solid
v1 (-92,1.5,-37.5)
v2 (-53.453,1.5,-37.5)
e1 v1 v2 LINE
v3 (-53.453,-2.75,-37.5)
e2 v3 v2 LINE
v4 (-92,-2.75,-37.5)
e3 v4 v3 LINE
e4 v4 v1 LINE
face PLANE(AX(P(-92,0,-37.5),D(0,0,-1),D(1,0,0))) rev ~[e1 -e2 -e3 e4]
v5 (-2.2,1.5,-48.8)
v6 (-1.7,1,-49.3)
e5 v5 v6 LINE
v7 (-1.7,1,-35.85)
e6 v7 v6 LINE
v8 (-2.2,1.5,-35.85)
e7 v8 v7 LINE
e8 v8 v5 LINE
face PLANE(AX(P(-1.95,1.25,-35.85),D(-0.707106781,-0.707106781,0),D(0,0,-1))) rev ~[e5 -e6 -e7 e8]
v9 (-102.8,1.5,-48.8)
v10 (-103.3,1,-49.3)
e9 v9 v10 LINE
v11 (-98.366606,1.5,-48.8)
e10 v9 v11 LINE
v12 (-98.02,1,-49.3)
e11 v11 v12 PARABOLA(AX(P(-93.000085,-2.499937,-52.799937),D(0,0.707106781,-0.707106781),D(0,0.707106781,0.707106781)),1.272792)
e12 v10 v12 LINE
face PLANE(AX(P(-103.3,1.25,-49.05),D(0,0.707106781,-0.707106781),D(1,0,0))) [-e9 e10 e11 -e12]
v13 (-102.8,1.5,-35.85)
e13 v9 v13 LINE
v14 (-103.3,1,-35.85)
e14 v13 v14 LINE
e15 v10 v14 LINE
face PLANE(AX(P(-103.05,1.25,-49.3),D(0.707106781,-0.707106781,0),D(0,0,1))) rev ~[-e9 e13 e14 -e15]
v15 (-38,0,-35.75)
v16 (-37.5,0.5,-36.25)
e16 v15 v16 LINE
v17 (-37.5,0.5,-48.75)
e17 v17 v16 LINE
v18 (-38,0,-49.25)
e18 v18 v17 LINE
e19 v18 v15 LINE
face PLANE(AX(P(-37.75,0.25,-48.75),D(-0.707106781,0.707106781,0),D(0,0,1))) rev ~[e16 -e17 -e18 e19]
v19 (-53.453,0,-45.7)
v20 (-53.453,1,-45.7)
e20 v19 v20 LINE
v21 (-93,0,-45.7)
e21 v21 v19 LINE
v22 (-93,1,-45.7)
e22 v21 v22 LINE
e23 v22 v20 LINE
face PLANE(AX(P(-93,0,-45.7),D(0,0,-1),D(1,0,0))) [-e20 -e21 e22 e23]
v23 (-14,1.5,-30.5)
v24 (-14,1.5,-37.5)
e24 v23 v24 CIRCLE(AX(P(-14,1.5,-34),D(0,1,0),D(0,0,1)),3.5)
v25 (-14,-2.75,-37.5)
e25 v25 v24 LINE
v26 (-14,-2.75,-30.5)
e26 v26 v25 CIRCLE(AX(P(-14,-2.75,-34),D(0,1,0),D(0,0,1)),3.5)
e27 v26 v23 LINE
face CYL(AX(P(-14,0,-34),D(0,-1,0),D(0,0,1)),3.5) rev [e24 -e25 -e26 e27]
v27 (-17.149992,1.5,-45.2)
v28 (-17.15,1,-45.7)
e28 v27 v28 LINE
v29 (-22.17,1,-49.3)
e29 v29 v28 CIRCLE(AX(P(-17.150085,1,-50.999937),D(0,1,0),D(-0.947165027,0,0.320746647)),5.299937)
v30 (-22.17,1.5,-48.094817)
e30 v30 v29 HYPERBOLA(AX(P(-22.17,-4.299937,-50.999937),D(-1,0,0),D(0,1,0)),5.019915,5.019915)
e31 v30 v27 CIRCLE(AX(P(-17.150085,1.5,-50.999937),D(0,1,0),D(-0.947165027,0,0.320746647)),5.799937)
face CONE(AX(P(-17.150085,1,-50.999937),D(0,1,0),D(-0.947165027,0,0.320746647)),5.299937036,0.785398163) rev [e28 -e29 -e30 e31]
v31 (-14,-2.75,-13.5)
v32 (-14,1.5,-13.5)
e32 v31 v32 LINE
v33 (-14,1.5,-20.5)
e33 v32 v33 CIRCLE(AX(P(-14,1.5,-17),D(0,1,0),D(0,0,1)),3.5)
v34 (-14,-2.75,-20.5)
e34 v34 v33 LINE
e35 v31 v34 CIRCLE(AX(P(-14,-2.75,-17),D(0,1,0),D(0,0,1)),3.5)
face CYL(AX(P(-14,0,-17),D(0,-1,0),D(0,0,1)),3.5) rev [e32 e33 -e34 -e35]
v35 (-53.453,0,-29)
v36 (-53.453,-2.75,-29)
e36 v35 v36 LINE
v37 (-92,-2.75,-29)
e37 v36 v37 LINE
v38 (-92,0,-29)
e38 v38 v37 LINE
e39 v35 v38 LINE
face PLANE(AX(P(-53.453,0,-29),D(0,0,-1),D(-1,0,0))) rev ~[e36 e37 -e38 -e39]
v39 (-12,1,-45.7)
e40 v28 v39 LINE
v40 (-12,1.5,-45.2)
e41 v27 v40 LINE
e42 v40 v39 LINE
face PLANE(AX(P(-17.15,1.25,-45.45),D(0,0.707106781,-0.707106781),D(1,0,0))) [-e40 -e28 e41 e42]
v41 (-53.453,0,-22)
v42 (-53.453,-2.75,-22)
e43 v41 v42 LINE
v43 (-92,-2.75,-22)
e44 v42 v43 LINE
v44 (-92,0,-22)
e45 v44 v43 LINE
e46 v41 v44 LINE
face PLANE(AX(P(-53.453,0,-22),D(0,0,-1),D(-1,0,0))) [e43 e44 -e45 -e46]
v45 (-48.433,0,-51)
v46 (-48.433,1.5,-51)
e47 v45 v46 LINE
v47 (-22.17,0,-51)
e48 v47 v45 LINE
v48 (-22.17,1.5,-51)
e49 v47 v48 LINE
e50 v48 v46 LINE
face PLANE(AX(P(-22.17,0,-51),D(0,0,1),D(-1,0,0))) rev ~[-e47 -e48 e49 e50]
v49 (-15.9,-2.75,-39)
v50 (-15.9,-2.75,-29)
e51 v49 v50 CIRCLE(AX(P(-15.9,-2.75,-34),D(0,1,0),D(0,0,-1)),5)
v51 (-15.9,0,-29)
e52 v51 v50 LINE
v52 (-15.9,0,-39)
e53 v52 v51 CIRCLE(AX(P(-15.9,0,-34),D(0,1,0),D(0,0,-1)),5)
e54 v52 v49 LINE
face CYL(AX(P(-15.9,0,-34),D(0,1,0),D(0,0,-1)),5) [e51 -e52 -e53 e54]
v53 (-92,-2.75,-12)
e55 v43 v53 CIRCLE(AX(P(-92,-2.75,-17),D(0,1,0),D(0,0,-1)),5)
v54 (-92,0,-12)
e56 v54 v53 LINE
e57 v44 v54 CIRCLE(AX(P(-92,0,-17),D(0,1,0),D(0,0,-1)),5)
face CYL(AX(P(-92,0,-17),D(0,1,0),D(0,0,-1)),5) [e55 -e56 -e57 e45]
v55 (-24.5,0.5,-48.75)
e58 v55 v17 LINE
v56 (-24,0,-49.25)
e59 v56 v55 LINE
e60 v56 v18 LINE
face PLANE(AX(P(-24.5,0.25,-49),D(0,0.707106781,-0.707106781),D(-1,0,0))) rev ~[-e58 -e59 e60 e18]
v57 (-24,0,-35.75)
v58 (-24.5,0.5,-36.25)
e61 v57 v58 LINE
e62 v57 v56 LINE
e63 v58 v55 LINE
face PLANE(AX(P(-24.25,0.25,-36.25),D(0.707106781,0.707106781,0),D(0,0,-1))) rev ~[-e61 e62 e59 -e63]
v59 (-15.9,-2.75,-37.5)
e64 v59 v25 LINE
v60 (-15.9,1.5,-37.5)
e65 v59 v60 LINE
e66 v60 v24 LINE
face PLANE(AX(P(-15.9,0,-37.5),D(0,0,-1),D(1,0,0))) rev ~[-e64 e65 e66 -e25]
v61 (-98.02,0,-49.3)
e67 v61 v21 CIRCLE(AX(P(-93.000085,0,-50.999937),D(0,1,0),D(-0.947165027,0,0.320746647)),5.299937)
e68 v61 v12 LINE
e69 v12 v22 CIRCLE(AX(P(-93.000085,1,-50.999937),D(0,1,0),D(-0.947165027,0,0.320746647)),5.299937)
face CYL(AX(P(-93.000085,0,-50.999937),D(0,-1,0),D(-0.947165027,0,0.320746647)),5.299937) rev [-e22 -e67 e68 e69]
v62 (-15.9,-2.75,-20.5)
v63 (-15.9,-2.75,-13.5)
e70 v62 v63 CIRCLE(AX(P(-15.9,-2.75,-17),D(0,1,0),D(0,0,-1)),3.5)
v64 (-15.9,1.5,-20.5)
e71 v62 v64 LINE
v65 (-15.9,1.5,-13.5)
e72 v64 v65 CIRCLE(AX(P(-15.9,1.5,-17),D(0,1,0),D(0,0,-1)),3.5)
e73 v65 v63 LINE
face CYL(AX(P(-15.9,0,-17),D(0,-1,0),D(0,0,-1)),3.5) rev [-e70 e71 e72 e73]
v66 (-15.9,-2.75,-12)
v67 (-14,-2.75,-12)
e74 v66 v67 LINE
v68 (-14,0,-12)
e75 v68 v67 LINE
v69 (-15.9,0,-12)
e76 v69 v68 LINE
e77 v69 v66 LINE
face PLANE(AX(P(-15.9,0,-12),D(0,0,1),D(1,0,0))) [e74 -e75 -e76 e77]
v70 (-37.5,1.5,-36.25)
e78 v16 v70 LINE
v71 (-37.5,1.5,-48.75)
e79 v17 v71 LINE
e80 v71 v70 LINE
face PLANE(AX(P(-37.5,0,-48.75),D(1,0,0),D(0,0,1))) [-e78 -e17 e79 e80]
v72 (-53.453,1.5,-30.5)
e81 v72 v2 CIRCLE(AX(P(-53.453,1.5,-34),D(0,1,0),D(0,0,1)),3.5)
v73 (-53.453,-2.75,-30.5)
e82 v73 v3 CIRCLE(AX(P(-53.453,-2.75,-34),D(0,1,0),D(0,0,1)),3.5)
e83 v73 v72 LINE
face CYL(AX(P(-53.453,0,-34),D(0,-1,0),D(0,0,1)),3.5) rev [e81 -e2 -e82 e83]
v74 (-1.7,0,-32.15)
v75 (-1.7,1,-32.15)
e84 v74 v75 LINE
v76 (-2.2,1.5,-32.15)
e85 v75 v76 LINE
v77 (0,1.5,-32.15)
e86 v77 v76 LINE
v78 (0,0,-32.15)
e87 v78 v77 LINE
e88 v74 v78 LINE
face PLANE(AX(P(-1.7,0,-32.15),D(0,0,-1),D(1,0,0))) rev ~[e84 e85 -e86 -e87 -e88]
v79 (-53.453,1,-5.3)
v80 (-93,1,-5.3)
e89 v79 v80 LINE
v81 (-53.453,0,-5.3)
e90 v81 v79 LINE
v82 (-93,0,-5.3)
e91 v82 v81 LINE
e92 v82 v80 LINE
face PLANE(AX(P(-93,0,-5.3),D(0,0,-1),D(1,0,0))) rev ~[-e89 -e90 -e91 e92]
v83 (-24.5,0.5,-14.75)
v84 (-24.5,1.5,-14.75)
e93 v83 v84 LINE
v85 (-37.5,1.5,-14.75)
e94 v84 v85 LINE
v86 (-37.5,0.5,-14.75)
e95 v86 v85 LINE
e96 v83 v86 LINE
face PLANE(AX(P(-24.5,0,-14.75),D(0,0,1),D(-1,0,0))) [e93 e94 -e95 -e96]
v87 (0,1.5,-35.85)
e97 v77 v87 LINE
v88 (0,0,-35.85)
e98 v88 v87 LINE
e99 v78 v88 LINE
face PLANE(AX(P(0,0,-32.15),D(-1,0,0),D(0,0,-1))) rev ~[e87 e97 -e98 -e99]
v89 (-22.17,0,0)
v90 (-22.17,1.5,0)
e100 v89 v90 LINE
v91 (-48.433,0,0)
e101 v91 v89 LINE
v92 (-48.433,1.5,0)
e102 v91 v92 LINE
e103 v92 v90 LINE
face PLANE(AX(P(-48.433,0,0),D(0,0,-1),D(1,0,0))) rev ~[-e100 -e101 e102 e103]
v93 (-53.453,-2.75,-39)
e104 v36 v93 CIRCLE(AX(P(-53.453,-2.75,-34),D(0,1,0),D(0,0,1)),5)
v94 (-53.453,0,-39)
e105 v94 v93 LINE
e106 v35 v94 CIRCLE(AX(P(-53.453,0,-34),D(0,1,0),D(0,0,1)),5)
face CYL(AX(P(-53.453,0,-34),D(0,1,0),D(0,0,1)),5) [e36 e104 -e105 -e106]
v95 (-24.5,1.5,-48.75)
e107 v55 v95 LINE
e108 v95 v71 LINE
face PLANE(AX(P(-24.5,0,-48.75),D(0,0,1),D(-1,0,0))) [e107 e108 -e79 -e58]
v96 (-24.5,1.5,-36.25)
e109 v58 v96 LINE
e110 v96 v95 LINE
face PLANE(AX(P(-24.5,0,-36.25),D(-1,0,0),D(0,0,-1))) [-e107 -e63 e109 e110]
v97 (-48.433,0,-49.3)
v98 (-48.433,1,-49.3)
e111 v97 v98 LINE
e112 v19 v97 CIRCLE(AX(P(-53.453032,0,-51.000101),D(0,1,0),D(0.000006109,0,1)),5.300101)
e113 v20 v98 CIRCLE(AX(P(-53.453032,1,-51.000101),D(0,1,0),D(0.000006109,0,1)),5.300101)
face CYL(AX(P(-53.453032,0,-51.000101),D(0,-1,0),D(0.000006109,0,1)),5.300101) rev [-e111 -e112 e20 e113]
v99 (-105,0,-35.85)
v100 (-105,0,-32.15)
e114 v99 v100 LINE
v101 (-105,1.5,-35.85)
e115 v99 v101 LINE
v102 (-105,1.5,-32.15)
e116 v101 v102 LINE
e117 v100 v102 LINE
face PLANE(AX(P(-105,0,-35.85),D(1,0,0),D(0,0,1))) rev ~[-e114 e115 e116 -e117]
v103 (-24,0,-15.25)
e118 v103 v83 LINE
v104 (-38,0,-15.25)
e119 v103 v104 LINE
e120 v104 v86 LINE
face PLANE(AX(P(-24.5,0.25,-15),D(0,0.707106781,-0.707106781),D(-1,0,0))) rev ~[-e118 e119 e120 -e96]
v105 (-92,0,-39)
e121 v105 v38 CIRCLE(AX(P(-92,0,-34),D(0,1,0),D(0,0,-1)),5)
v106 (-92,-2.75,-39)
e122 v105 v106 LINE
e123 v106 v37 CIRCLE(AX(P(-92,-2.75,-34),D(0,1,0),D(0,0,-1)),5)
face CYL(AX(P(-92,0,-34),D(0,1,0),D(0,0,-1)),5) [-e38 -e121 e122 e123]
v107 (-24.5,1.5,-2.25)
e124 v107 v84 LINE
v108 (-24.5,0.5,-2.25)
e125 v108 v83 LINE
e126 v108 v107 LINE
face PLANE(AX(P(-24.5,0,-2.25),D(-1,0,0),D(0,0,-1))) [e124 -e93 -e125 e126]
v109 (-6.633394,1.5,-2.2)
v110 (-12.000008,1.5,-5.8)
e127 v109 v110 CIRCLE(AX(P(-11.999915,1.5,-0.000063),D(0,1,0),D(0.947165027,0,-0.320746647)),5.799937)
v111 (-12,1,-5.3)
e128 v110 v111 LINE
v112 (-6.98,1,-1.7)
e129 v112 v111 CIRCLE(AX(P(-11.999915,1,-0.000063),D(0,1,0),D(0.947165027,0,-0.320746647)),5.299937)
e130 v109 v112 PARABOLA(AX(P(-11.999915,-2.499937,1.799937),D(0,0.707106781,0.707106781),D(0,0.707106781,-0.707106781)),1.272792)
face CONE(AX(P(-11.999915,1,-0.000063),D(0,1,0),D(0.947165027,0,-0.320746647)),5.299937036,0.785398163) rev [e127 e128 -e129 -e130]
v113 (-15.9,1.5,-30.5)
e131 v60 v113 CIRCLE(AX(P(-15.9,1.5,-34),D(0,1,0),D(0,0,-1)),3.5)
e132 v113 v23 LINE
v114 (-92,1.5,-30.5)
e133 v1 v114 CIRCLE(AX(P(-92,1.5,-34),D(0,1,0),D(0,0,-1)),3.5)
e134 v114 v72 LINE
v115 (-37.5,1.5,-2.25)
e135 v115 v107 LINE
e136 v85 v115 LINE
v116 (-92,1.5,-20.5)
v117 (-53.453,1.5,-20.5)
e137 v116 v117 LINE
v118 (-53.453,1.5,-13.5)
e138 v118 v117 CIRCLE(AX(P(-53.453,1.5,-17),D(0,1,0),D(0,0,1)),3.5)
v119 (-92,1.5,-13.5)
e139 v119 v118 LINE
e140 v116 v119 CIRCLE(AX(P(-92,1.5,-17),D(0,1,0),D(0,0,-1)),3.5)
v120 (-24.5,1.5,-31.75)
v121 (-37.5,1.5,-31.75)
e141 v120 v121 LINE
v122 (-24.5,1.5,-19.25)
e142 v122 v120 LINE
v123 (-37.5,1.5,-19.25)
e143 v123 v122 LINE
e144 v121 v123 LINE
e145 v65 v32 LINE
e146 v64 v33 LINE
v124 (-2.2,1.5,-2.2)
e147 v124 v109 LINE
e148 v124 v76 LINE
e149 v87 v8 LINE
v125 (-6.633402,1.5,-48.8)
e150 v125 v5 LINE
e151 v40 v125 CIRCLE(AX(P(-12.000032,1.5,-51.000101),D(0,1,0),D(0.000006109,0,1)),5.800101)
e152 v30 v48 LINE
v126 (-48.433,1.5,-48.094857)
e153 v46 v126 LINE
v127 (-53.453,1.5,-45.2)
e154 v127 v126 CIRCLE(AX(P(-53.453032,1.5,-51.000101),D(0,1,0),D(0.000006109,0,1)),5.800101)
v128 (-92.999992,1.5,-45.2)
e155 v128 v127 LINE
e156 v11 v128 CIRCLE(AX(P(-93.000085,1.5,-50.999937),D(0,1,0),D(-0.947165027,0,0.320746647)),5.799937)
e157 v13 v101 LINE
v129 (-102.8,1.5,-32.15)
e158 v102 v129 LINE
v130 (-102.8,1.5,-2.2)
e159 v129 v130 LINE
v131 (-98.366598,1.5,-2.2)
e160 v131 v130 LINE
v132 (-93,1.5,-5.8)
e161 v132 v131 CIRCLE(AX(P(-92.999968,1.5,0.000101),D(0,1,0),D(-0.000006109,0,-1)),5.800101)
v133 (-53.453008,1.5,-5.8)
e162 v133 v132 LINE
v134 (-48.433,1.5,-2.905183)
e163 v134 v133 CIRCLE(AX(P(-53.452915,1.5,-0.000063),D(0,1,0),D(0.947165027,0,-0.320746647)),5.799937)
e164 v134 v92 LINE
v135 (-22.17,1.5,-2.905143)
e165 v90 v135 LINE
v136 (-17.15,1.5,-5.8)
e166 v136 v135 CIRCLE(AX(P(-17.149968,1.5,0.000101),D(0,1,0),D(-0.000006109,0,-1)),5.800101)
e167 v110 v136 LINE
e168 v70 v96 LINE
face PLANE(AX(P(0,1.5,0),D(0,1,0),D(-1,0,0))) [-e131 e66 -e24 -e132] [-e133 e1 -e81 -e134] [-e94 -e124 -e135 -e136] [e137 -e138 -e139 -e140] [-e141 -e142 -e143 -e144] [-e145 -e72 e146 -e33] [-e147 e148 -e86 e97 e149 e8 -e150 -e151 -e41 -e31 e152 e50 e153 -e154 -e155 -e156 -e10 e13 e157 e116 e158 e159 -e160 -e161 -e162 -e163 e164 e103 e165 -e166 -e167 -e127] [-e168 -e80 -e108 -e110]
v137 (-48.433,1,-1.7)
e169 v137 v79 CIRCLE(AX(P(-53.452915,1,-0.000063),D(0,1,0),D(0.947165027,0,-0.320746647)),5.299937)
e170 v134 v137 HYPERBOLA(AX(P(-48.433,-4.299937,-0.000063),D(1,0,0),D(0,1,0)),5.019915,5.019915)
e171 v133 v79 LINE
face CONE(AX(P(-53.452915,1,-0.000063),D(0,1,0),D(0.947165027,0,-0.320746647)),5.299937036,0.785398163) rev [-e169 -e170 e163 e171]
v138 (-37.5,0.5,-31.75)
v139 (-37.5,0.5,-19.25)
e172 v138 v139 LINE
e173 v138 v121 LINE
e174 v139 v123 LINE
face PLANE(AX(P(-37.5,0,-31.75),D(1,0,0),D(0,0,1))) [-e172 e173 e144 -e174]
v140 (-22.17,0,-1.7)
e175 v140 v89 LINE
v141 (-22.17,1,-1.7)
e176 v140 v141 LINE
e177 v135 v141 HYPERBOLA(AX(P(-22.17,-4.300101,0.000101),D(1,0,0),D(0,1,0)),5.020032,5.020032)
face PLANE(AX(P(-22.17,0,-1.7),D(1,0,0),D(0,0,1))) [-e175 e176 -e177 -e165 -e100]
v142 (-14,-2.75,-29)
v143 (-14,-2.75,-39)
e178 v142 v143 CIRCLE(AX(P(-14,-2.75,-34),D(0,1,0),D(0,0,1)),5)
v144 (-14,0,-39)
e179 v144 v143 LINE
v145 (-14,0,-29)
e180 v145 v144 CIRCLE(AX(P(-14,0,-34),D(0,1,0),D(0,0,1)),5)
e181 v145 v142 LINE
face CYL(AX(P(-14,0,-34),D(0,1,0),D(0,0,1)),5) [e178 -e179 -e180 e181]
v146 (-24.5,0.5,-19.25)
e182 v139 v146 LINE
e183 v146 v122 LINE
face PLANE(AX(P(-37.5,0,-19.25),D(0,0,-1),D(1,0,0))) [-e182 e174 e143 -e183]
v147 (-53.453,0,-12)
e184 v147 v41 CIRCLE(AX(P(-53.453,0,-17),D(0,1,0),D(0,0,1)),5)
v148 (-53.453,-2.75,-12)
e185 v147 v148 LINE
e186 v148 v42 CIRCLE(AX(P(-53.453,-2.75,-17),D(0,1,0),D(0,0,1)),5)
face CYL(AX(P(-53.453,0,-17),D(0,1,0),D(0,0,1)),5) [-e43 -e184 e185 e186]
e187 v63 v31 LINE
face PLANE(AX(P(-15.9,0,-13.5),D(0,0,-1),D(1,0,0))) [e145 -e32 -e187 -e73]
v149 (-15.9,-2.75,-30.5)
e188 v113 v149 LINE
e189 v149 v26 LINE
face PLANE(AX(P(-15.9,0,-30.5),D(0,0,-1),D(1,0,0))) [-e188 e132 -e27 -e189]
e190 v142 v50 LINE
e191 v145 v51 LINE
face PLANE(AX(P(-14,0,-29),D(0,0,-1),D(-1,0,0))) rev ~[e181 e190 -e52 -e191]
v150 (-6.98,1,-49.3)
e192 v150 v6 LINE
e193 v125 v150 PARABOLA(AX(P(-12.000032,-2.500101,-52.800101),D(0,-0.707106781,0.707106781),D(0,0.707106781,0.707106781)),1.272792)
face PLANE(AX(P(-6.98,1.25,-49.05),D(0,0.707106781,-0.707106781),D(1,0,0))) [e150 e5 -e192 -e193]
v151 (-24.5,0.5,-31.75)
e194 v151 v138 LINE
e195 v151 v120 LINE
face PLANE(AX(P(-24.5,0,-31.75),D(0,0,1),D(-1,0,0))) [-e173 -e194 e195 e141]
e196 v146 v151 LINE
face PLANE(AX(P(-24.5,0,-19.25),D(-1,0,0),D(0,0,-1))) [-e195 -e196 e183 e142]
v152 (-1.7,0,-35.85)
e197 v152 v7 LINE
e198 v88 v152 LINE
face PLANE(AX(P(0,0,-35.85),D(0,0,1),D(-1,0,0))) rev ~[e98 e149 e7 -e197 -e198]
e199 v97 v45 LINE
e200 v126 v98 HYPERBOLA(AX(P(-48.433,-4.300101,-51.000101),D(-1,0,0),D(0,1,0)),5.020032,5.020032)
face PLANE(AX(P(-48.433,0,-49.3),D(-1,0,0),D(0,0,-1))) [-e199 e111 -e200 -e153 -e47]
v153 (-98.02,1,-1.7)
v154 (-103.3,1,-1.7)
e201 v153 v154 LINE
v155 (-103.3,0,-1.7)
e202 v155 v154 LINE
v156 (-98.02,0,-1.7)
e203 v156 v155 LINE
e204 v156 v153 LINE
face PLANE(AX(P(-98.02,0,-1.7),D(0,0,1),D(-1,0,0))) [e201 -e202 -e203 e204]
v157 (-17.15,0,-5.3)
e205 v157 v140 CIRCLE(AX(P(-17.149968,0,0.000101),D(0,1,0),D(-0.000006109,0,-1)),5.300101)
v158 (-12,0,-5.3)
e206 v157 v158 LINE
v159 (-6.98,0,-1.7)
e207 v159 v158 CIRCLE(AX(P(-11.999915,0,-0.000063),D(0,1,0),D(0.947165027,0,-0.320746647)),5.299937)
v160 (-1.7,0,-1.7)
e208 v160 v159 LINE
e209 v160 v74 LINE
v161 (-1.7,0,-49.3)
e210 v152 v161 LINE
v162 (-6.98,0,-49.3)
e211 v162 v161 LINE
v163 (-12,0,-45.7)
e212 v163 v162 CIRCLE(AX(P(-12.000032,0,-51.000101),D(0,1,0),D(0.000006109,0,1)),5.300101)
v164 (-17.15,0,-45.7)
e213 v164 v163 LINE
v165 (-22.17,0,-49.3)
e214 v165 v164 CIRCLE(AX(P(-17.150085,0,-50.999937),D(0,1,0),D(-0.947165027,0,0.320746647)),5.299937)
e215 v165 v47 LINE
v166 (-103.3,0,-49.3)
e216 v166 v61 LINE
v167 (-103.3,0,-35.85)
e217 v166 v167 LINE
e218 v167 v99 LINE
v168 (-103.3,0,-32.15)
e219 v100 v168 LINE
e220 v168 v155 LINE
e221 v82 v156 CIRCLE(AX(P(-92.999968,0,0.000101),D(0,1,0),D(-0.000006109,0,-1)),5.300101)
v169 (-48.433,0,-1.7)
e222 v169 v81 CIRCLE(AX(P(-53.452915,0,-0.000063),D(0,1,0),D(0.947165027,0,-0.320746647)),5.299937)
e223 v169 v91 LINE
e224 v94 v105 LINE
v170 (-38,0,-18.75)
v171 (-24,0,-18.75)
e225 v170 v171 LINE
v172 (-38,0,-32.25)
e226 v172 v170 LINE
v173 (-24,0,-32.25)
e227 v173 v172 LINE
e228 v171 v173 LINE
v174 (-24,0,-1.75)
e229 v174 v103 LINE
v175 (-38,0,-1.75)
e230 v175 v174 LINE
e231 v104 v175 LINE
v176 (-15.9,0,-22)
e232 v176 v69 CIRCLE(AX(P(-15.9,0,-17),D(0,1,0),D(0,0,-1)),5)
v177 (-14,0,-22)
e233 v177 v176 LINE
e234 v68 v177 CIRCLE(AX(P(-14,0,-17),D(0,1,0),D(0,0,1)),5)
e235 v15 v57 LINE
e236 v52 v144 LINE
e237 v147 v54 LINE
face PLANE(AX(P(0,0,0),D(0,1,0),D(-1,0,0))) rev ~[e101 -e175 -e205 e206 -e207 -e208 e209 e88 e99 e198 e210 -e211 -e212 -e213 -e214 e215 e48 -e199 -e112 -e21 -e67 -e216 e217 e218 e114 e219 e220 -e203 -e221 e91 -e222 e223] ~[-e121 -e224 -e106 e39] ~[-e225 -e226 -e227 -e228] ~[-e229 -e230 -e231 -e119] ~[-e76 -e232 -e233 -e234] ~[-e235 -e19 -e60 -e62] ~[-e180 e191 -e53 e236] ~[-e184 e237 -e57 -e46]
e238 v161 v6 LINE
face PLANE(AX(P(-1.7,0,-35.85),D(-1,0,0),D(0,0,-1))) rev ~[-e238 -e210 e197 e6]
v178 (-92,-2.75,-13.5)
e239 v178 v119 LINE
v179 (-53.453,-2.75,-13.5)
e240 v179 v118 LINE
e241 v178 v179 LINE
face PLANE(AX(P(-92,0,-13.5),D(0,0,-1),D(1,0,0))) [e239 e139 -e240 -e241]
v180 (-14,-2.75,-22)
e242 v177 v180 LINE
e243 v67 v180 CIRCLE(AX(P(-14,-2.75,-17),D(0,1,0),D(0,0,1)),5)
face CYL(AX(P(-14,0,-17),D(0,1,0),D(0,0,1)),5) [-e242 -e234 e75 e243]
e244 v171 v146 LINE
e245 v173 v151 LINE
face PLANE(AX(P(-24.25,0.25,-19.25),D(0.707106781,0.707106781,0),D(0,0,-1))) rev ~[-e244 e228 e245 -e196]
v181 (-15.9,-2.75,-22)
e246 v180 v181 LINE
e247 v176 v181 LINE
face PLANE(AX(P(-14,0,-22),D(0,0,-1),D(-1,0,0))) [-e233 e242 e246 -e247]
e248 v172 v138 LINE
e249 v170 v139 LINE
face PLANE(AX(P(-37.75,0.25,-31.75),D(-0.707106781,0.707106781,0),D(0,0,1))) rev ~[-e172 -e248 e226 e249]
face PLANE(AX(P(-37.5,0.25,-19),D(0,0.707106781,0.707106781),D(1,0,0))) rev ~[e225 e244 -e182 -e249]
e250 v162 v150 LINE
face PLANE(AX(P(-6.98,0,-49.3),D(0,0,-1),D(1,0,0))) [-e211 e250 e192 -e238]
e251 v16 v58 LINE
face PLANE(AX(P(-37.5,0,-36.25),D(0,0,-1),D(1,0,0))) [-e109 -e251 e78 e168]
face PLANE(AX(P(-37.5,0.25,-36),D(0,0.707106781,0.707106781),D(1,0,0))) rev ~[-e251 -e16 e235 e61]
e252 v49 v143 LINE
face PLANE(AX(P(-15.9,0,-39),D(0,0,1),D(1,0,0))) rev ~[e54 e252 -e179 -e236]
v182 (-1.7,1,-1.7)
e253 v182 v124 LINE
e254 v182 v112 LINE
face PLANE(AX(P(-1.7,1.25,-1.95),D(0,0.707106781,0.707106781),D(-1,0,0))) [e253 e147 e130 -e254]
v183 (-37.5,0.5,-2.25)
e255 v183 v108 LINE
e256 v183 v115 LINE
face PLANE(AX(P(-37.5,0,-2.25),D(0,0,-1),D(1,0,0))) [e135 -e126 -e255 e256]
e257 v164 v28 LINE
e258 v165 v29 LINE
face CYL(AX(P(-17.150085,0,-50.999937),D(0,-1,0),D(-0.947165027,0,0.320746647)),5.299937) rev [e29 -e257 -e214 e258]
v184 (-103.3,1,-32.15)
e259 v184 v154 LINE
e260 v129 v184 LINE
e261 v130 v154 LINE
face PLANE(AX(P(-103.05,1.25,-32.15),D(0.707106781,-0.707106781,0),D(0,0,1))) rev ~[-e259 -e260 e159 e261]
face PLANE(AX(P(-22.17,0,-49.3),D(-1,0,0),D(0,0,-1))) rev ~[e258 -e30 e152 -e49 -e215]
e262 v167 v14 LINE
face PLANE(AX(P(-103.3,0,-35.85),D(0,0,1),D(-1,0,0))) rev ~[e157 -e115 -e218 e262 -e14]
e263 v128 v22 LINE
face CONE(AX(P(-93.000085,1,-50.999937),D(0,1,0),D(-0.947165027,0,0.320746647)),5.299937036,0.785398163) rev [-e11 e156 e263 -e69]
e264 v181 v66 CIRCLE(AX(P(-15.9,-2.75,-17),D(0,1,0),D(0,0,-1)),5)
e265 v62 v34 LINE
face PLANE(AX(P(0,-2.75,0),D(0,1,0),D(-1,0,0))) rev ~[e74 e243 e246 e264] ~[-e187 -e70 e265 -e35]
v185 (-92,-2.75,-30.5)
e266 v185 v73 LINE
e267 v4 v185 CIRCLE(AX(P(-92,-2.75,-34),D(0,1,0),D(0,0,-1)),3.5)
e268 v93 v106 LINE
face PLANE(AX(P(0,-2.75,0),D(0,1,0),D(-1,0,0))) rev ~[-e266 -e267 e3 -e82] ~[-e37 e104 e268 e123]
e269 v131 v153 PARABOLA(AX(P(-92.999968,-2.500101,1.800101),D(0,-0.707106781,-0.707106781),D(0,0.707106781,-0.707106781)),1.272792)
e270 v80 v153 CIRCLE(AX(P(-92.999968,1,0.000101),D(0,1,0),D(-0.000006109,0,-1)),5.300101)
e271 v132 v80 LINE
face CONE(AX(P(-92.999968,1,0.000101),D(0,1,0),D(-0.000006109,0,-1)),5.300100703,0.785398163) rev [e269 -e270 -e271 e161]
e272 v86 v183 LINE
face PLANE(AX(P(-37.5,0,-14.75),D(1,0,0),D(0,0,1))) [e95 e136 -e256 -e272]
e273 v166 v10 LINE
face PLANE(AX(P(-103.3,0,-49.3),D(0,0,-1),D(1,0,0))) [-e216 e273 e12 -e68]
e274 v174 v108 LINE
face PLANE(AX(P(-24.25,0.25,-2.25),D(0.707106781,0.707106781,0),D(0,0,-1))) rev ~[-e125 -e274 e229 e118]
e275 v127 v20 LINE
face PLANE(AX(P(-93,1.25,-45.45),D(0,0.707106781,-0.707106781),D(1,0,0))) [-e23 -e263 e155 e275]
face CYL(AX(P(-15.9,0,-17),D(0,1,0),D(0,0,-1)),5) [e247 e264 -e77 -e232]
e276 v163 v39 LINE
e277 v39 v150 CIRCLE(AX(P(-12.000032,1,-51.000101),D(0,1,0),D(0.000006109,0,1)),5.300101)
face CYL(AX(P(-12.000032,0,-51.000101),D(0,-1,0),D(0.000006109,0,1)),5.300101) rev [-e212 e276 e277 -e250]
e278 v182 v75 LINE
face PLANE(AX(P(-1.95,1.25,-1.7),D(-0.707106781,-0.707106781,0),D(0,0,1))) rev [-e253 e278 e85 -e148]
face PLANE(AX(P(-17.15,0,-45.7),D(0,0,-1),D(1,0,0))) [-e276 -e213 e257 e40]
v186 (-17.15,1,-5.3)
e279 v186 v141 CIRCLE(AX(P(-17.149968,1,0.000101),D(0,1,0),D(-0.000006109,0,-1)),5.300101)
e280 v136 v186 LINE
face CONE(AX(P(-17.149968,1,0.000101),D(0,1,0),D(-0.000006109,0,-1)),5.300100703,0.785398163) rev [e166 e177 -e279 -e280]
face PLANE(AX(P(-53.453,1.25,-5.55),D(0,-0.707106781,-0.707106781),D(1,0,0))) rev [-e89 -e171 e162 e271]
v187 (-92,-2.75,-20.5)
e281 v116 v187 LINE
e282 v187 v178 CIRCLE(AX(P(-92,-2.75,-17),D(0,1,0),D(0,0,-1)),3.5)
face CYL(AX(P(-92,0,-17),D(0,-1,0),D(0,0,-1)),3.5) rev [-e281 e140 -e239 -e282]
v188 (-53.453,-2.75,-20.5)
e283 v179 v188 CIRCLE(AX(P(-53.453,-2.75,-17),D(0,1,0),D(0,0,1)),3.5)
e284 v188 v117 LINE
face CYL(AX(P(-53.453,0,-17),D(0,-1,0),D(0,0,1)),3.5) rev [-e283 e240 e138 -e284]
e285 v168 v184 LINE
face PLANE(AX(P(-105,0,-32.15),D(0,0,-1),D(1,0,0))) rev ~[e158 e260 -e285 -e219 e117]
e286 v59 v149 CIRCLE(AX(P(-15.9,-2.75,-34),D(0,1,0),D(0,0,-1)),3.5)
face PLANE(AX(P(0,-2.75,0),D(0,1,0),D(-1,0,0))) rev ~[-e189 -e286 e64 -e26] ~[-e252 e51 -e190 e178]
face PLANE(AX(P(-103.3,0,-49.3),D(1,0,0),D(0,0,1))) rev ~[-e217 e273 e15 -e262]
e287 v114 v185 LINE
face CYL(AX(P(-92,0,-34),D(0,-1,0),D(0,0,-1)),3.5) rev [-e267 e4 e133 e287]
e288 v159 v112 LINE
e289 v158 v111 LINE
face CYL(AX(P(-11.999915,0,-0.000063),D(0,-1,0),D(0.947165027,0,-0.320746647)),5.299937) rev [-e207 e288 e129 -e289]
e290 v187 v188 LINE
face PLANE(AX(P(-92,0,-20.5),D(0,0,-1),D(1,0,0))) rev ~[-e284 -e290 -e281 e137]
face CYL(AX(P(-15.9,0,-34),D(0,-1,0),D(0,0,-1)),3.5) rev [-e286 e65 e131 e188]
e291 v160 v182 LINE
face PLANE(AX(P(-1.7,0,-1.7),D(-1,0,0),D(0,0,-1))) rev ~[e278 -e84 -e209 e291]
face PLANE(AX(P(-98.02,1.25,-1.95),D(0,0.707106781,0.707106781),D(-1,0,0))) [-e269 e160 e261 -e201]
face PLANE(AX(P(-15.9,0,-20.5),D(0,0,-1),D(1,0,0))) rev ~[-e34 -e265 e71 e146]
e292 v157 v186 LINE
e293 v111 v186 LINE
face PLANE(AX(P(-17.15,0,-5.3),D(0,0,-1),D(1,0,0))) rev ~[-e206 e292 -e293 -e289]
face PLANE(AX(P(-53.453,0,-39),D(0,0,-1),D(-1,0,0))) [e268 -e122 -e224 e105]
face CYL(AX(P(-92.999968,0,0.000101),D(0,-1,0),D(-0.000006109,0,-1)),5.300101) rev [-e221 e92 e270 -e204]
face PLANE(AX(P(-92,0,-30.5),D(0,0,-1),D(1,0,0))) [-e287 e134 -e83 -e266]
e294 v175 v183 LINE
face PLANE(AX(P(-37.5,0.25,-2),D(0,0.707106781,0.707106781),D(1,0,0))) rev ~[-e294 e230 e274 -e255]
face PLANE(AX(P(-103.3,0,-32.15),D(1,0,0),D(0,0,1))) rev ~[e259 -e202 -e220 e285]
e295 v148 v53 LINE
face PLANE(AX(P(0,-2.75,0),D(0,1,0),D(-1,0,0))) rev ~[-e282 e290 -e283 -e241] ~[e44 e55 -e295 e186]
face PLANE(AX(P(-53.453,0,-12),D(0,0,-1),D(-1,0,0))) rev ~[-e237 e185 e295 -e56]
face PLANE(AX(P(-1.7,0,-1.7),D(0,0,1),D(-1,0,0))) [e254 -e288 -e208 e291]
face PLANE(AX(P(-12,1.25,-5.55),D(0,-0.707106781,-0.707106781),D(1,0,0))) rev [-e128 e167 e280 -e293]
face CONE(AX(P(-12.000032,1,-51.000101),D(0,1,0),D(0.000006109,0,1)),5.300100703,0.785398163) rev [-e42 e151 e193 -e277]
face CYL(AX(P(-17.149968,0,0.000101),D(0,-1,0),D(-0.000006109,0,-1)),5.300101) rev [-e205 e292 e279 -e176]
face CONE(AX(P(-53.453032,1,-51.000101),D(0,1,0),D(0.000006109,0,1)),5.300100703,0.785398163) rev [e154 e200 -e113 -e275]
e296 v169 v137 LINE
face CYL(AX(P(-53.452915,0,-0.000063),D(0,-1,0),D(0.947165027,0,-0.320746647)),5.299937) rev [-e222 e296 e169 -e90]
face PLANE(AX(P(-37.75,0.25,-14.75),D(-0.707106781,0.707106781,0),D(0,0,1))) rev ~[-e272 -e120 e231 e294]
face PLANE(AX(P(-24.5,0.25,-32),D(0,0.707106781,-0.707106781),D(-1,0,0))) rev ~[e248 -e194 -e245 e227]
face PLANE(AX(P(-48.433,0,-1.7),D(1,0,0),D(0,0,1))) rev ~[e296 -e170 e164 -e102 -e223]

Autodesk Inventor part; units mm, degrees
ref_plane "YZ Plane" through (0, 0, 0) normal (1, 0, 0) x (0, 1, 0)
ref_plane "XZ Plane" through (0, 0, 0) normal (0, 1, 0) x (-1, 0, 0)
ref_plane "XY Plane" through (0, 0, 0) normal (0, 0, 1) x (1, 0, 0)
sketch "Sketch1" plane through (0, 0, 0) normal (0, 1, 0) x (-1, 0, 0)
  line L0 (37.5, -2.25) -> (24.5, -2.25)
  line L1 (24.5, -2.25) -> (24.5, -14.75)
  line L2 (24.5, -14.75) -> (37.5, -14.75)
  line L3 (37.5, -14.75) -> (37.5, -2.25)
  line L4 (56.9183, -8.5) -> (8.3915, -8.5) construction
  line L5 (0, -17) -> (105, -17) construction
  line L6 (0, 0) -> (0, -51)
  line L7 (0, -34) -> (105, -34) construction
  line L8 (105, -51) -> (105, 0)
  line L9 (31, 19) -> (31, -51) construction
  line L10 (56.8064, -25.5) -> (17, -25.5) construction
  line L11 (24.5, -19.25) -> (24.5, -31.75)
  line L12 (37.5, -19.25) -> (24.5, -19.25)
  line L13 (37.5, -31.75) -> (37.5, -19.25)
  line L14 (24.5, -31.75) -> (37.5, -31.75)
  line L15 (24.5, -36.25) -> (24.5, -48.75)
  line L16 (37.5, -36.25) -> (24.5, -36.25)
  line L17 (37.5, -48.75) -> (37.5, -36.25)
  line L18 (24.5, -48.75) -> (37.5, -48.75)
  line L19 (56.3008, -42.5) -> (16.5498, -42.5) construction
  arc A0 (53.453, -12) -> (53.453, -22) centre (53.453, -17) ccw
  arc A1 (92, -22) -> (92, -12) centre (92, -17) ccw
  arc A2 (53.453, -29) -> (53.453, -39) centre (53.453, -34) ccw
  arc A3 (92, -39) -> (92, -29) centre (92, -34) ccw
  line L20 (53.453, -12) -> (92, -12)
  line L21 (53.453, -22) -> (92, -22)
  line L22 (53.453, -29) -> (92, -29)
  line L23 (53.453, -39) -> (92, -39)
  arc A4 (15.9, -39) -> (15.9, -29) centre (15.9, -34) ccw
  line L24 (103.3, -49.3) -> (103.3, -1.7)
  line L25 (1.7, -1.7) -> (1.7, -49.3)
  arc A5 (14, -29) -> (14, -39) centre (14, -34) ccw
  arc A6 (14, -12) -> (14, -22) centre (14, -17) ccw
  line L26 (15.9, -39) -> (14, -39)
  line L27 (14, -29) -> (15.9, -29)
  line L28 (14, -22) -> (15.9, -22)
  line L29 (15.9, -12) -> (14, -12)
  arc A7 (15.9, -22) -> (15.9, -12) centre (15.9, -17) ccw
  arc A8 (96.5, -51) -> (93, -47.5) centre (93, -51) ccw
  arc A9 (53.453, -47.5) -> (49.953, -51) centre (53.453, -51) ccw
  arc A10 (98.02, -49.3) -> (93, -45.7) centre (93, -51) ccw
  line L30 (93, -45.7) -> (53.453, -45.7)
  line L31 (96.5, -51) -> (105, -51)
  line L32 (93, -47.5) -> (53.453, -47.5)
  line L33 (105, -49.3) -> (98.02, -49.3)
  arc A11 (53.453, -45.7) -> (48.433, -49.3) centre (53.453, -51) ccw
  arc A12 (48.433, -1.7) -> (53.453, -5.3) centre (53.453, 0) ccw
  arc A13 (49.953, 0) -> (53.453, -3.5) centre (53.453, 0) ccw
  line L34 (93, -3.5) -> (53.453, -3.5)
  line L35 (93, -5.3) -> (53.453, -5.3)
  line L36 (98.02, -1.7) -> (105, -1.7)
  line L37 (105, 0) -> (96.5, 0)
  arc A14 (93, -3.5) -> (96.5, 0) centre (93, 0) ccw
  arc A15 (93, -5.3) -> (98.02, -1.7) centre (93, 0) ccw
  arc A16 (20.65, -51) -> (17.15, -47.5) centre (17.15, -51) ccw
  arc A17 (12, -47.5) -> (8.5, -51) centre (12, -51) ccw
  line L38 (17.15, -45.7) -> (12, -45.7)
  line L39 (17.15, -47.5) -> (12, -47.5)
  arc A18 (12, -45.7) -> (6.98, -49.3) centre (12, -51) ccw
  arc A19 (22.17, -49.3) -> (17.15, -45.7) centre (17.15, -51) ccw
  line L40 (48.433, -49.3) -> (22.17, -49.3)
  line L41 (6.98, -49.3) -> (0, -49.3)
  line L42 (0, -51) -> (8.5, -51)
  line L43 (20.65, -51) -> (49.953, -51)
  line L44 (17.15, -5.3) -> (12, -5.3)
  line L45 (17.15, -3.5) -> (12, -3.5)
  arc A20 (8.5, 0) -> (12, -3.5) centre (12, 0) ccw
  arc A21 (17.15, -3.5) -> (20.65, 0) centre (17.15, 0) ccw
  arc A22 (6.98, -1.7) -> (12, -5.3) centre (12, 0) ccw
  arc A23 (17.15, -5.3) -> (22.17, -1.7) centre (17.15, 0) ccw
  line L46 (49.953, 0) -> (20.65, 0)
  line L47 (8.5, 0) -> (0, 0)
  line L48 (0, -1.7) -> (6.98, -1.7)
  line L49 (22.17, -1.7) -> (48.433, -1.7)
  line L50 (48.433, -49.3) -> (48.433, -51)
  line L51 (22.17, -49.3) -> (22.17, -51)
  line L52 (48.433, -1.7) -> (48.433, 0)
  line L53 (22.17, -1.7) -> (22.17, 0)
  line L54 (103.3, -35.85) -> (105, -35.85)
  line L55 (105, -32.15) -> (103.3, -32.15)
  line L56 (1.7, -32.15) -> (0, -32.15)
  line L57 (0, -35.85) -> (1.7, -35.85)
  arc A24 (92, -20.5) -> (92, -13.5) centre (92, -17) ccw
  arc A25 (53.453, -13.5) -> (53.453, -20.5) centre (53.453, -17) ccw
  arc A26 (92, -37.5) -> (92, -30.5) centre (92, -34) ccw
  arc A27 (53.453, -30.5) -> (53.453, -37.5) centre (53.453, -34) ccw
  arc A28 (15.9, -20.5) -> (15.9, -13.5) centre (15.9, -17) ccw
  arc A29 (14, -13.5) -> (14, -20.5) centre (14, -17) ccw
  arc A30 (15.9, -37.5) -> (15.9, -30.5) centre (15.9, -34) ccw
  arc A31 (14, -30.5) -> (14, -37.5) centre (14, -34) ccw
  line L58 (92, -13.5) -> (53.453, -13.5)
  line L59 (92, -20.5) -> (53.453, -20.5)
  line L60 (92, -30.5) -> (53.453, -30.5)
  line L61 (92, -37.5) -> (53.453, -37.5)
  line L62 (15.9, -30.5) -> (14, -30.5)
  line L63 (15.9, -37.5) -> (14, -37.5)
  line L64 (15.9, -20.5) -> (14, -20.5)
  line L65 (15.9, -13.5) -> (14, -13.5)
  point P0 (31, -42.5)
  point P1 (31, -25.5)
  point P2 (31, -8.5)
  dimension "d0" = 13
  dimension "d1" = 12.5
  dimension "d12" = 17
  dimension "d18" = 105
  dimension "d20" = 17
  dimension "d22" = 17
  dimension "d32" = 10
  dimension "d33" = 1.7
  dimension "d34" = 1.7
  dimension "d38" = 5
  dimension "d43" = 1.7
  dimension "d44" = 1.7
  dimension "d45" = 17
  dimension "d50" = 17
  dimension "d51" = 12
  dimension "d52" = 13
  dimension "d56" = 12
  dimension "d67" = 3.5
  dimension "d68" = 1.8
  dimension "d72" = 14
  dimension "d73" = 22.453
  dimension "d74" = 13.85
  dimension "d75" = 31
  dimension "d76" = 8.6
  dimension "d77" = 3.7
  dimension "d78" = 7
extrude "Extrusion1" add sketch "Sketch1" along normal blind 1.5 contours L56 L25 L57 L6 | L48 A22 L44 A23 L49 A12 L35 A15 L36 L24 L33 A10 L30 A11 L40 A19 L38 A18 L41 L25 | L46 L52 L49 L53 | L40 L50 L43 L51 | L55 L8 L54 L24 | L20 A1 L21 A0 | L22 A3 L23 A2 | L26 A5 L27 A4 | L29 A7 L28 A6
chamfer "Chamfer1" distance 0.5 angle 45 32 edges at (-31, 0, -36.25) (-37.5, 0, -42.5) (-24.5, 0, -42.5) (-31, 0, -48.75) (-31, 0, -31.75) (-37.5, 0, -25.5) (-31, 0, -19.25) (-24.5, 0, -25.5) (-31, 0, -14.75) (-37.5, 0, -8.5) (-31, 0, -2.25) (-24.5, 0, -8.5) (-73.2265, 1.5, -45.7) (-96.0887, 1.5, -46.693) (-50.3643, 1.5, -46.693) (-100.66, 1.5, -49.3) (-103.3, 1.5, -42.575) (-103.3, 1.5, -16.925) (-100.66, 1.5, -1.7) (-96.0887, 1.5, -4.307) (-73.2265, 1.5, -5.3) (-50.3643, 1.5, -4.307) (-20.2387, 1.5, -4.307) (-14.575, 1.5, -5.3) (-8.9113, 1.5, -4.307) (-20.2387, 1.5, -46.693) (-14.575, 1.5, -45.7) (-8.9113, 1.5, -46.693) (-4.34, 1.5, -49.3) (-1.7, 1.5, -16.925) (-1.7, 1.5, -42.575) (-4.34, 1.5, -1.7)
extrude "Extrusion3" add sketch "Sketch1" against normal blind 2.75 contours L20 A1 L21 A0 | L22 A3 L23 A2 | L26 A5 L27 A4 | L29 A7 L28 A6
properties part number "Top_V4"
